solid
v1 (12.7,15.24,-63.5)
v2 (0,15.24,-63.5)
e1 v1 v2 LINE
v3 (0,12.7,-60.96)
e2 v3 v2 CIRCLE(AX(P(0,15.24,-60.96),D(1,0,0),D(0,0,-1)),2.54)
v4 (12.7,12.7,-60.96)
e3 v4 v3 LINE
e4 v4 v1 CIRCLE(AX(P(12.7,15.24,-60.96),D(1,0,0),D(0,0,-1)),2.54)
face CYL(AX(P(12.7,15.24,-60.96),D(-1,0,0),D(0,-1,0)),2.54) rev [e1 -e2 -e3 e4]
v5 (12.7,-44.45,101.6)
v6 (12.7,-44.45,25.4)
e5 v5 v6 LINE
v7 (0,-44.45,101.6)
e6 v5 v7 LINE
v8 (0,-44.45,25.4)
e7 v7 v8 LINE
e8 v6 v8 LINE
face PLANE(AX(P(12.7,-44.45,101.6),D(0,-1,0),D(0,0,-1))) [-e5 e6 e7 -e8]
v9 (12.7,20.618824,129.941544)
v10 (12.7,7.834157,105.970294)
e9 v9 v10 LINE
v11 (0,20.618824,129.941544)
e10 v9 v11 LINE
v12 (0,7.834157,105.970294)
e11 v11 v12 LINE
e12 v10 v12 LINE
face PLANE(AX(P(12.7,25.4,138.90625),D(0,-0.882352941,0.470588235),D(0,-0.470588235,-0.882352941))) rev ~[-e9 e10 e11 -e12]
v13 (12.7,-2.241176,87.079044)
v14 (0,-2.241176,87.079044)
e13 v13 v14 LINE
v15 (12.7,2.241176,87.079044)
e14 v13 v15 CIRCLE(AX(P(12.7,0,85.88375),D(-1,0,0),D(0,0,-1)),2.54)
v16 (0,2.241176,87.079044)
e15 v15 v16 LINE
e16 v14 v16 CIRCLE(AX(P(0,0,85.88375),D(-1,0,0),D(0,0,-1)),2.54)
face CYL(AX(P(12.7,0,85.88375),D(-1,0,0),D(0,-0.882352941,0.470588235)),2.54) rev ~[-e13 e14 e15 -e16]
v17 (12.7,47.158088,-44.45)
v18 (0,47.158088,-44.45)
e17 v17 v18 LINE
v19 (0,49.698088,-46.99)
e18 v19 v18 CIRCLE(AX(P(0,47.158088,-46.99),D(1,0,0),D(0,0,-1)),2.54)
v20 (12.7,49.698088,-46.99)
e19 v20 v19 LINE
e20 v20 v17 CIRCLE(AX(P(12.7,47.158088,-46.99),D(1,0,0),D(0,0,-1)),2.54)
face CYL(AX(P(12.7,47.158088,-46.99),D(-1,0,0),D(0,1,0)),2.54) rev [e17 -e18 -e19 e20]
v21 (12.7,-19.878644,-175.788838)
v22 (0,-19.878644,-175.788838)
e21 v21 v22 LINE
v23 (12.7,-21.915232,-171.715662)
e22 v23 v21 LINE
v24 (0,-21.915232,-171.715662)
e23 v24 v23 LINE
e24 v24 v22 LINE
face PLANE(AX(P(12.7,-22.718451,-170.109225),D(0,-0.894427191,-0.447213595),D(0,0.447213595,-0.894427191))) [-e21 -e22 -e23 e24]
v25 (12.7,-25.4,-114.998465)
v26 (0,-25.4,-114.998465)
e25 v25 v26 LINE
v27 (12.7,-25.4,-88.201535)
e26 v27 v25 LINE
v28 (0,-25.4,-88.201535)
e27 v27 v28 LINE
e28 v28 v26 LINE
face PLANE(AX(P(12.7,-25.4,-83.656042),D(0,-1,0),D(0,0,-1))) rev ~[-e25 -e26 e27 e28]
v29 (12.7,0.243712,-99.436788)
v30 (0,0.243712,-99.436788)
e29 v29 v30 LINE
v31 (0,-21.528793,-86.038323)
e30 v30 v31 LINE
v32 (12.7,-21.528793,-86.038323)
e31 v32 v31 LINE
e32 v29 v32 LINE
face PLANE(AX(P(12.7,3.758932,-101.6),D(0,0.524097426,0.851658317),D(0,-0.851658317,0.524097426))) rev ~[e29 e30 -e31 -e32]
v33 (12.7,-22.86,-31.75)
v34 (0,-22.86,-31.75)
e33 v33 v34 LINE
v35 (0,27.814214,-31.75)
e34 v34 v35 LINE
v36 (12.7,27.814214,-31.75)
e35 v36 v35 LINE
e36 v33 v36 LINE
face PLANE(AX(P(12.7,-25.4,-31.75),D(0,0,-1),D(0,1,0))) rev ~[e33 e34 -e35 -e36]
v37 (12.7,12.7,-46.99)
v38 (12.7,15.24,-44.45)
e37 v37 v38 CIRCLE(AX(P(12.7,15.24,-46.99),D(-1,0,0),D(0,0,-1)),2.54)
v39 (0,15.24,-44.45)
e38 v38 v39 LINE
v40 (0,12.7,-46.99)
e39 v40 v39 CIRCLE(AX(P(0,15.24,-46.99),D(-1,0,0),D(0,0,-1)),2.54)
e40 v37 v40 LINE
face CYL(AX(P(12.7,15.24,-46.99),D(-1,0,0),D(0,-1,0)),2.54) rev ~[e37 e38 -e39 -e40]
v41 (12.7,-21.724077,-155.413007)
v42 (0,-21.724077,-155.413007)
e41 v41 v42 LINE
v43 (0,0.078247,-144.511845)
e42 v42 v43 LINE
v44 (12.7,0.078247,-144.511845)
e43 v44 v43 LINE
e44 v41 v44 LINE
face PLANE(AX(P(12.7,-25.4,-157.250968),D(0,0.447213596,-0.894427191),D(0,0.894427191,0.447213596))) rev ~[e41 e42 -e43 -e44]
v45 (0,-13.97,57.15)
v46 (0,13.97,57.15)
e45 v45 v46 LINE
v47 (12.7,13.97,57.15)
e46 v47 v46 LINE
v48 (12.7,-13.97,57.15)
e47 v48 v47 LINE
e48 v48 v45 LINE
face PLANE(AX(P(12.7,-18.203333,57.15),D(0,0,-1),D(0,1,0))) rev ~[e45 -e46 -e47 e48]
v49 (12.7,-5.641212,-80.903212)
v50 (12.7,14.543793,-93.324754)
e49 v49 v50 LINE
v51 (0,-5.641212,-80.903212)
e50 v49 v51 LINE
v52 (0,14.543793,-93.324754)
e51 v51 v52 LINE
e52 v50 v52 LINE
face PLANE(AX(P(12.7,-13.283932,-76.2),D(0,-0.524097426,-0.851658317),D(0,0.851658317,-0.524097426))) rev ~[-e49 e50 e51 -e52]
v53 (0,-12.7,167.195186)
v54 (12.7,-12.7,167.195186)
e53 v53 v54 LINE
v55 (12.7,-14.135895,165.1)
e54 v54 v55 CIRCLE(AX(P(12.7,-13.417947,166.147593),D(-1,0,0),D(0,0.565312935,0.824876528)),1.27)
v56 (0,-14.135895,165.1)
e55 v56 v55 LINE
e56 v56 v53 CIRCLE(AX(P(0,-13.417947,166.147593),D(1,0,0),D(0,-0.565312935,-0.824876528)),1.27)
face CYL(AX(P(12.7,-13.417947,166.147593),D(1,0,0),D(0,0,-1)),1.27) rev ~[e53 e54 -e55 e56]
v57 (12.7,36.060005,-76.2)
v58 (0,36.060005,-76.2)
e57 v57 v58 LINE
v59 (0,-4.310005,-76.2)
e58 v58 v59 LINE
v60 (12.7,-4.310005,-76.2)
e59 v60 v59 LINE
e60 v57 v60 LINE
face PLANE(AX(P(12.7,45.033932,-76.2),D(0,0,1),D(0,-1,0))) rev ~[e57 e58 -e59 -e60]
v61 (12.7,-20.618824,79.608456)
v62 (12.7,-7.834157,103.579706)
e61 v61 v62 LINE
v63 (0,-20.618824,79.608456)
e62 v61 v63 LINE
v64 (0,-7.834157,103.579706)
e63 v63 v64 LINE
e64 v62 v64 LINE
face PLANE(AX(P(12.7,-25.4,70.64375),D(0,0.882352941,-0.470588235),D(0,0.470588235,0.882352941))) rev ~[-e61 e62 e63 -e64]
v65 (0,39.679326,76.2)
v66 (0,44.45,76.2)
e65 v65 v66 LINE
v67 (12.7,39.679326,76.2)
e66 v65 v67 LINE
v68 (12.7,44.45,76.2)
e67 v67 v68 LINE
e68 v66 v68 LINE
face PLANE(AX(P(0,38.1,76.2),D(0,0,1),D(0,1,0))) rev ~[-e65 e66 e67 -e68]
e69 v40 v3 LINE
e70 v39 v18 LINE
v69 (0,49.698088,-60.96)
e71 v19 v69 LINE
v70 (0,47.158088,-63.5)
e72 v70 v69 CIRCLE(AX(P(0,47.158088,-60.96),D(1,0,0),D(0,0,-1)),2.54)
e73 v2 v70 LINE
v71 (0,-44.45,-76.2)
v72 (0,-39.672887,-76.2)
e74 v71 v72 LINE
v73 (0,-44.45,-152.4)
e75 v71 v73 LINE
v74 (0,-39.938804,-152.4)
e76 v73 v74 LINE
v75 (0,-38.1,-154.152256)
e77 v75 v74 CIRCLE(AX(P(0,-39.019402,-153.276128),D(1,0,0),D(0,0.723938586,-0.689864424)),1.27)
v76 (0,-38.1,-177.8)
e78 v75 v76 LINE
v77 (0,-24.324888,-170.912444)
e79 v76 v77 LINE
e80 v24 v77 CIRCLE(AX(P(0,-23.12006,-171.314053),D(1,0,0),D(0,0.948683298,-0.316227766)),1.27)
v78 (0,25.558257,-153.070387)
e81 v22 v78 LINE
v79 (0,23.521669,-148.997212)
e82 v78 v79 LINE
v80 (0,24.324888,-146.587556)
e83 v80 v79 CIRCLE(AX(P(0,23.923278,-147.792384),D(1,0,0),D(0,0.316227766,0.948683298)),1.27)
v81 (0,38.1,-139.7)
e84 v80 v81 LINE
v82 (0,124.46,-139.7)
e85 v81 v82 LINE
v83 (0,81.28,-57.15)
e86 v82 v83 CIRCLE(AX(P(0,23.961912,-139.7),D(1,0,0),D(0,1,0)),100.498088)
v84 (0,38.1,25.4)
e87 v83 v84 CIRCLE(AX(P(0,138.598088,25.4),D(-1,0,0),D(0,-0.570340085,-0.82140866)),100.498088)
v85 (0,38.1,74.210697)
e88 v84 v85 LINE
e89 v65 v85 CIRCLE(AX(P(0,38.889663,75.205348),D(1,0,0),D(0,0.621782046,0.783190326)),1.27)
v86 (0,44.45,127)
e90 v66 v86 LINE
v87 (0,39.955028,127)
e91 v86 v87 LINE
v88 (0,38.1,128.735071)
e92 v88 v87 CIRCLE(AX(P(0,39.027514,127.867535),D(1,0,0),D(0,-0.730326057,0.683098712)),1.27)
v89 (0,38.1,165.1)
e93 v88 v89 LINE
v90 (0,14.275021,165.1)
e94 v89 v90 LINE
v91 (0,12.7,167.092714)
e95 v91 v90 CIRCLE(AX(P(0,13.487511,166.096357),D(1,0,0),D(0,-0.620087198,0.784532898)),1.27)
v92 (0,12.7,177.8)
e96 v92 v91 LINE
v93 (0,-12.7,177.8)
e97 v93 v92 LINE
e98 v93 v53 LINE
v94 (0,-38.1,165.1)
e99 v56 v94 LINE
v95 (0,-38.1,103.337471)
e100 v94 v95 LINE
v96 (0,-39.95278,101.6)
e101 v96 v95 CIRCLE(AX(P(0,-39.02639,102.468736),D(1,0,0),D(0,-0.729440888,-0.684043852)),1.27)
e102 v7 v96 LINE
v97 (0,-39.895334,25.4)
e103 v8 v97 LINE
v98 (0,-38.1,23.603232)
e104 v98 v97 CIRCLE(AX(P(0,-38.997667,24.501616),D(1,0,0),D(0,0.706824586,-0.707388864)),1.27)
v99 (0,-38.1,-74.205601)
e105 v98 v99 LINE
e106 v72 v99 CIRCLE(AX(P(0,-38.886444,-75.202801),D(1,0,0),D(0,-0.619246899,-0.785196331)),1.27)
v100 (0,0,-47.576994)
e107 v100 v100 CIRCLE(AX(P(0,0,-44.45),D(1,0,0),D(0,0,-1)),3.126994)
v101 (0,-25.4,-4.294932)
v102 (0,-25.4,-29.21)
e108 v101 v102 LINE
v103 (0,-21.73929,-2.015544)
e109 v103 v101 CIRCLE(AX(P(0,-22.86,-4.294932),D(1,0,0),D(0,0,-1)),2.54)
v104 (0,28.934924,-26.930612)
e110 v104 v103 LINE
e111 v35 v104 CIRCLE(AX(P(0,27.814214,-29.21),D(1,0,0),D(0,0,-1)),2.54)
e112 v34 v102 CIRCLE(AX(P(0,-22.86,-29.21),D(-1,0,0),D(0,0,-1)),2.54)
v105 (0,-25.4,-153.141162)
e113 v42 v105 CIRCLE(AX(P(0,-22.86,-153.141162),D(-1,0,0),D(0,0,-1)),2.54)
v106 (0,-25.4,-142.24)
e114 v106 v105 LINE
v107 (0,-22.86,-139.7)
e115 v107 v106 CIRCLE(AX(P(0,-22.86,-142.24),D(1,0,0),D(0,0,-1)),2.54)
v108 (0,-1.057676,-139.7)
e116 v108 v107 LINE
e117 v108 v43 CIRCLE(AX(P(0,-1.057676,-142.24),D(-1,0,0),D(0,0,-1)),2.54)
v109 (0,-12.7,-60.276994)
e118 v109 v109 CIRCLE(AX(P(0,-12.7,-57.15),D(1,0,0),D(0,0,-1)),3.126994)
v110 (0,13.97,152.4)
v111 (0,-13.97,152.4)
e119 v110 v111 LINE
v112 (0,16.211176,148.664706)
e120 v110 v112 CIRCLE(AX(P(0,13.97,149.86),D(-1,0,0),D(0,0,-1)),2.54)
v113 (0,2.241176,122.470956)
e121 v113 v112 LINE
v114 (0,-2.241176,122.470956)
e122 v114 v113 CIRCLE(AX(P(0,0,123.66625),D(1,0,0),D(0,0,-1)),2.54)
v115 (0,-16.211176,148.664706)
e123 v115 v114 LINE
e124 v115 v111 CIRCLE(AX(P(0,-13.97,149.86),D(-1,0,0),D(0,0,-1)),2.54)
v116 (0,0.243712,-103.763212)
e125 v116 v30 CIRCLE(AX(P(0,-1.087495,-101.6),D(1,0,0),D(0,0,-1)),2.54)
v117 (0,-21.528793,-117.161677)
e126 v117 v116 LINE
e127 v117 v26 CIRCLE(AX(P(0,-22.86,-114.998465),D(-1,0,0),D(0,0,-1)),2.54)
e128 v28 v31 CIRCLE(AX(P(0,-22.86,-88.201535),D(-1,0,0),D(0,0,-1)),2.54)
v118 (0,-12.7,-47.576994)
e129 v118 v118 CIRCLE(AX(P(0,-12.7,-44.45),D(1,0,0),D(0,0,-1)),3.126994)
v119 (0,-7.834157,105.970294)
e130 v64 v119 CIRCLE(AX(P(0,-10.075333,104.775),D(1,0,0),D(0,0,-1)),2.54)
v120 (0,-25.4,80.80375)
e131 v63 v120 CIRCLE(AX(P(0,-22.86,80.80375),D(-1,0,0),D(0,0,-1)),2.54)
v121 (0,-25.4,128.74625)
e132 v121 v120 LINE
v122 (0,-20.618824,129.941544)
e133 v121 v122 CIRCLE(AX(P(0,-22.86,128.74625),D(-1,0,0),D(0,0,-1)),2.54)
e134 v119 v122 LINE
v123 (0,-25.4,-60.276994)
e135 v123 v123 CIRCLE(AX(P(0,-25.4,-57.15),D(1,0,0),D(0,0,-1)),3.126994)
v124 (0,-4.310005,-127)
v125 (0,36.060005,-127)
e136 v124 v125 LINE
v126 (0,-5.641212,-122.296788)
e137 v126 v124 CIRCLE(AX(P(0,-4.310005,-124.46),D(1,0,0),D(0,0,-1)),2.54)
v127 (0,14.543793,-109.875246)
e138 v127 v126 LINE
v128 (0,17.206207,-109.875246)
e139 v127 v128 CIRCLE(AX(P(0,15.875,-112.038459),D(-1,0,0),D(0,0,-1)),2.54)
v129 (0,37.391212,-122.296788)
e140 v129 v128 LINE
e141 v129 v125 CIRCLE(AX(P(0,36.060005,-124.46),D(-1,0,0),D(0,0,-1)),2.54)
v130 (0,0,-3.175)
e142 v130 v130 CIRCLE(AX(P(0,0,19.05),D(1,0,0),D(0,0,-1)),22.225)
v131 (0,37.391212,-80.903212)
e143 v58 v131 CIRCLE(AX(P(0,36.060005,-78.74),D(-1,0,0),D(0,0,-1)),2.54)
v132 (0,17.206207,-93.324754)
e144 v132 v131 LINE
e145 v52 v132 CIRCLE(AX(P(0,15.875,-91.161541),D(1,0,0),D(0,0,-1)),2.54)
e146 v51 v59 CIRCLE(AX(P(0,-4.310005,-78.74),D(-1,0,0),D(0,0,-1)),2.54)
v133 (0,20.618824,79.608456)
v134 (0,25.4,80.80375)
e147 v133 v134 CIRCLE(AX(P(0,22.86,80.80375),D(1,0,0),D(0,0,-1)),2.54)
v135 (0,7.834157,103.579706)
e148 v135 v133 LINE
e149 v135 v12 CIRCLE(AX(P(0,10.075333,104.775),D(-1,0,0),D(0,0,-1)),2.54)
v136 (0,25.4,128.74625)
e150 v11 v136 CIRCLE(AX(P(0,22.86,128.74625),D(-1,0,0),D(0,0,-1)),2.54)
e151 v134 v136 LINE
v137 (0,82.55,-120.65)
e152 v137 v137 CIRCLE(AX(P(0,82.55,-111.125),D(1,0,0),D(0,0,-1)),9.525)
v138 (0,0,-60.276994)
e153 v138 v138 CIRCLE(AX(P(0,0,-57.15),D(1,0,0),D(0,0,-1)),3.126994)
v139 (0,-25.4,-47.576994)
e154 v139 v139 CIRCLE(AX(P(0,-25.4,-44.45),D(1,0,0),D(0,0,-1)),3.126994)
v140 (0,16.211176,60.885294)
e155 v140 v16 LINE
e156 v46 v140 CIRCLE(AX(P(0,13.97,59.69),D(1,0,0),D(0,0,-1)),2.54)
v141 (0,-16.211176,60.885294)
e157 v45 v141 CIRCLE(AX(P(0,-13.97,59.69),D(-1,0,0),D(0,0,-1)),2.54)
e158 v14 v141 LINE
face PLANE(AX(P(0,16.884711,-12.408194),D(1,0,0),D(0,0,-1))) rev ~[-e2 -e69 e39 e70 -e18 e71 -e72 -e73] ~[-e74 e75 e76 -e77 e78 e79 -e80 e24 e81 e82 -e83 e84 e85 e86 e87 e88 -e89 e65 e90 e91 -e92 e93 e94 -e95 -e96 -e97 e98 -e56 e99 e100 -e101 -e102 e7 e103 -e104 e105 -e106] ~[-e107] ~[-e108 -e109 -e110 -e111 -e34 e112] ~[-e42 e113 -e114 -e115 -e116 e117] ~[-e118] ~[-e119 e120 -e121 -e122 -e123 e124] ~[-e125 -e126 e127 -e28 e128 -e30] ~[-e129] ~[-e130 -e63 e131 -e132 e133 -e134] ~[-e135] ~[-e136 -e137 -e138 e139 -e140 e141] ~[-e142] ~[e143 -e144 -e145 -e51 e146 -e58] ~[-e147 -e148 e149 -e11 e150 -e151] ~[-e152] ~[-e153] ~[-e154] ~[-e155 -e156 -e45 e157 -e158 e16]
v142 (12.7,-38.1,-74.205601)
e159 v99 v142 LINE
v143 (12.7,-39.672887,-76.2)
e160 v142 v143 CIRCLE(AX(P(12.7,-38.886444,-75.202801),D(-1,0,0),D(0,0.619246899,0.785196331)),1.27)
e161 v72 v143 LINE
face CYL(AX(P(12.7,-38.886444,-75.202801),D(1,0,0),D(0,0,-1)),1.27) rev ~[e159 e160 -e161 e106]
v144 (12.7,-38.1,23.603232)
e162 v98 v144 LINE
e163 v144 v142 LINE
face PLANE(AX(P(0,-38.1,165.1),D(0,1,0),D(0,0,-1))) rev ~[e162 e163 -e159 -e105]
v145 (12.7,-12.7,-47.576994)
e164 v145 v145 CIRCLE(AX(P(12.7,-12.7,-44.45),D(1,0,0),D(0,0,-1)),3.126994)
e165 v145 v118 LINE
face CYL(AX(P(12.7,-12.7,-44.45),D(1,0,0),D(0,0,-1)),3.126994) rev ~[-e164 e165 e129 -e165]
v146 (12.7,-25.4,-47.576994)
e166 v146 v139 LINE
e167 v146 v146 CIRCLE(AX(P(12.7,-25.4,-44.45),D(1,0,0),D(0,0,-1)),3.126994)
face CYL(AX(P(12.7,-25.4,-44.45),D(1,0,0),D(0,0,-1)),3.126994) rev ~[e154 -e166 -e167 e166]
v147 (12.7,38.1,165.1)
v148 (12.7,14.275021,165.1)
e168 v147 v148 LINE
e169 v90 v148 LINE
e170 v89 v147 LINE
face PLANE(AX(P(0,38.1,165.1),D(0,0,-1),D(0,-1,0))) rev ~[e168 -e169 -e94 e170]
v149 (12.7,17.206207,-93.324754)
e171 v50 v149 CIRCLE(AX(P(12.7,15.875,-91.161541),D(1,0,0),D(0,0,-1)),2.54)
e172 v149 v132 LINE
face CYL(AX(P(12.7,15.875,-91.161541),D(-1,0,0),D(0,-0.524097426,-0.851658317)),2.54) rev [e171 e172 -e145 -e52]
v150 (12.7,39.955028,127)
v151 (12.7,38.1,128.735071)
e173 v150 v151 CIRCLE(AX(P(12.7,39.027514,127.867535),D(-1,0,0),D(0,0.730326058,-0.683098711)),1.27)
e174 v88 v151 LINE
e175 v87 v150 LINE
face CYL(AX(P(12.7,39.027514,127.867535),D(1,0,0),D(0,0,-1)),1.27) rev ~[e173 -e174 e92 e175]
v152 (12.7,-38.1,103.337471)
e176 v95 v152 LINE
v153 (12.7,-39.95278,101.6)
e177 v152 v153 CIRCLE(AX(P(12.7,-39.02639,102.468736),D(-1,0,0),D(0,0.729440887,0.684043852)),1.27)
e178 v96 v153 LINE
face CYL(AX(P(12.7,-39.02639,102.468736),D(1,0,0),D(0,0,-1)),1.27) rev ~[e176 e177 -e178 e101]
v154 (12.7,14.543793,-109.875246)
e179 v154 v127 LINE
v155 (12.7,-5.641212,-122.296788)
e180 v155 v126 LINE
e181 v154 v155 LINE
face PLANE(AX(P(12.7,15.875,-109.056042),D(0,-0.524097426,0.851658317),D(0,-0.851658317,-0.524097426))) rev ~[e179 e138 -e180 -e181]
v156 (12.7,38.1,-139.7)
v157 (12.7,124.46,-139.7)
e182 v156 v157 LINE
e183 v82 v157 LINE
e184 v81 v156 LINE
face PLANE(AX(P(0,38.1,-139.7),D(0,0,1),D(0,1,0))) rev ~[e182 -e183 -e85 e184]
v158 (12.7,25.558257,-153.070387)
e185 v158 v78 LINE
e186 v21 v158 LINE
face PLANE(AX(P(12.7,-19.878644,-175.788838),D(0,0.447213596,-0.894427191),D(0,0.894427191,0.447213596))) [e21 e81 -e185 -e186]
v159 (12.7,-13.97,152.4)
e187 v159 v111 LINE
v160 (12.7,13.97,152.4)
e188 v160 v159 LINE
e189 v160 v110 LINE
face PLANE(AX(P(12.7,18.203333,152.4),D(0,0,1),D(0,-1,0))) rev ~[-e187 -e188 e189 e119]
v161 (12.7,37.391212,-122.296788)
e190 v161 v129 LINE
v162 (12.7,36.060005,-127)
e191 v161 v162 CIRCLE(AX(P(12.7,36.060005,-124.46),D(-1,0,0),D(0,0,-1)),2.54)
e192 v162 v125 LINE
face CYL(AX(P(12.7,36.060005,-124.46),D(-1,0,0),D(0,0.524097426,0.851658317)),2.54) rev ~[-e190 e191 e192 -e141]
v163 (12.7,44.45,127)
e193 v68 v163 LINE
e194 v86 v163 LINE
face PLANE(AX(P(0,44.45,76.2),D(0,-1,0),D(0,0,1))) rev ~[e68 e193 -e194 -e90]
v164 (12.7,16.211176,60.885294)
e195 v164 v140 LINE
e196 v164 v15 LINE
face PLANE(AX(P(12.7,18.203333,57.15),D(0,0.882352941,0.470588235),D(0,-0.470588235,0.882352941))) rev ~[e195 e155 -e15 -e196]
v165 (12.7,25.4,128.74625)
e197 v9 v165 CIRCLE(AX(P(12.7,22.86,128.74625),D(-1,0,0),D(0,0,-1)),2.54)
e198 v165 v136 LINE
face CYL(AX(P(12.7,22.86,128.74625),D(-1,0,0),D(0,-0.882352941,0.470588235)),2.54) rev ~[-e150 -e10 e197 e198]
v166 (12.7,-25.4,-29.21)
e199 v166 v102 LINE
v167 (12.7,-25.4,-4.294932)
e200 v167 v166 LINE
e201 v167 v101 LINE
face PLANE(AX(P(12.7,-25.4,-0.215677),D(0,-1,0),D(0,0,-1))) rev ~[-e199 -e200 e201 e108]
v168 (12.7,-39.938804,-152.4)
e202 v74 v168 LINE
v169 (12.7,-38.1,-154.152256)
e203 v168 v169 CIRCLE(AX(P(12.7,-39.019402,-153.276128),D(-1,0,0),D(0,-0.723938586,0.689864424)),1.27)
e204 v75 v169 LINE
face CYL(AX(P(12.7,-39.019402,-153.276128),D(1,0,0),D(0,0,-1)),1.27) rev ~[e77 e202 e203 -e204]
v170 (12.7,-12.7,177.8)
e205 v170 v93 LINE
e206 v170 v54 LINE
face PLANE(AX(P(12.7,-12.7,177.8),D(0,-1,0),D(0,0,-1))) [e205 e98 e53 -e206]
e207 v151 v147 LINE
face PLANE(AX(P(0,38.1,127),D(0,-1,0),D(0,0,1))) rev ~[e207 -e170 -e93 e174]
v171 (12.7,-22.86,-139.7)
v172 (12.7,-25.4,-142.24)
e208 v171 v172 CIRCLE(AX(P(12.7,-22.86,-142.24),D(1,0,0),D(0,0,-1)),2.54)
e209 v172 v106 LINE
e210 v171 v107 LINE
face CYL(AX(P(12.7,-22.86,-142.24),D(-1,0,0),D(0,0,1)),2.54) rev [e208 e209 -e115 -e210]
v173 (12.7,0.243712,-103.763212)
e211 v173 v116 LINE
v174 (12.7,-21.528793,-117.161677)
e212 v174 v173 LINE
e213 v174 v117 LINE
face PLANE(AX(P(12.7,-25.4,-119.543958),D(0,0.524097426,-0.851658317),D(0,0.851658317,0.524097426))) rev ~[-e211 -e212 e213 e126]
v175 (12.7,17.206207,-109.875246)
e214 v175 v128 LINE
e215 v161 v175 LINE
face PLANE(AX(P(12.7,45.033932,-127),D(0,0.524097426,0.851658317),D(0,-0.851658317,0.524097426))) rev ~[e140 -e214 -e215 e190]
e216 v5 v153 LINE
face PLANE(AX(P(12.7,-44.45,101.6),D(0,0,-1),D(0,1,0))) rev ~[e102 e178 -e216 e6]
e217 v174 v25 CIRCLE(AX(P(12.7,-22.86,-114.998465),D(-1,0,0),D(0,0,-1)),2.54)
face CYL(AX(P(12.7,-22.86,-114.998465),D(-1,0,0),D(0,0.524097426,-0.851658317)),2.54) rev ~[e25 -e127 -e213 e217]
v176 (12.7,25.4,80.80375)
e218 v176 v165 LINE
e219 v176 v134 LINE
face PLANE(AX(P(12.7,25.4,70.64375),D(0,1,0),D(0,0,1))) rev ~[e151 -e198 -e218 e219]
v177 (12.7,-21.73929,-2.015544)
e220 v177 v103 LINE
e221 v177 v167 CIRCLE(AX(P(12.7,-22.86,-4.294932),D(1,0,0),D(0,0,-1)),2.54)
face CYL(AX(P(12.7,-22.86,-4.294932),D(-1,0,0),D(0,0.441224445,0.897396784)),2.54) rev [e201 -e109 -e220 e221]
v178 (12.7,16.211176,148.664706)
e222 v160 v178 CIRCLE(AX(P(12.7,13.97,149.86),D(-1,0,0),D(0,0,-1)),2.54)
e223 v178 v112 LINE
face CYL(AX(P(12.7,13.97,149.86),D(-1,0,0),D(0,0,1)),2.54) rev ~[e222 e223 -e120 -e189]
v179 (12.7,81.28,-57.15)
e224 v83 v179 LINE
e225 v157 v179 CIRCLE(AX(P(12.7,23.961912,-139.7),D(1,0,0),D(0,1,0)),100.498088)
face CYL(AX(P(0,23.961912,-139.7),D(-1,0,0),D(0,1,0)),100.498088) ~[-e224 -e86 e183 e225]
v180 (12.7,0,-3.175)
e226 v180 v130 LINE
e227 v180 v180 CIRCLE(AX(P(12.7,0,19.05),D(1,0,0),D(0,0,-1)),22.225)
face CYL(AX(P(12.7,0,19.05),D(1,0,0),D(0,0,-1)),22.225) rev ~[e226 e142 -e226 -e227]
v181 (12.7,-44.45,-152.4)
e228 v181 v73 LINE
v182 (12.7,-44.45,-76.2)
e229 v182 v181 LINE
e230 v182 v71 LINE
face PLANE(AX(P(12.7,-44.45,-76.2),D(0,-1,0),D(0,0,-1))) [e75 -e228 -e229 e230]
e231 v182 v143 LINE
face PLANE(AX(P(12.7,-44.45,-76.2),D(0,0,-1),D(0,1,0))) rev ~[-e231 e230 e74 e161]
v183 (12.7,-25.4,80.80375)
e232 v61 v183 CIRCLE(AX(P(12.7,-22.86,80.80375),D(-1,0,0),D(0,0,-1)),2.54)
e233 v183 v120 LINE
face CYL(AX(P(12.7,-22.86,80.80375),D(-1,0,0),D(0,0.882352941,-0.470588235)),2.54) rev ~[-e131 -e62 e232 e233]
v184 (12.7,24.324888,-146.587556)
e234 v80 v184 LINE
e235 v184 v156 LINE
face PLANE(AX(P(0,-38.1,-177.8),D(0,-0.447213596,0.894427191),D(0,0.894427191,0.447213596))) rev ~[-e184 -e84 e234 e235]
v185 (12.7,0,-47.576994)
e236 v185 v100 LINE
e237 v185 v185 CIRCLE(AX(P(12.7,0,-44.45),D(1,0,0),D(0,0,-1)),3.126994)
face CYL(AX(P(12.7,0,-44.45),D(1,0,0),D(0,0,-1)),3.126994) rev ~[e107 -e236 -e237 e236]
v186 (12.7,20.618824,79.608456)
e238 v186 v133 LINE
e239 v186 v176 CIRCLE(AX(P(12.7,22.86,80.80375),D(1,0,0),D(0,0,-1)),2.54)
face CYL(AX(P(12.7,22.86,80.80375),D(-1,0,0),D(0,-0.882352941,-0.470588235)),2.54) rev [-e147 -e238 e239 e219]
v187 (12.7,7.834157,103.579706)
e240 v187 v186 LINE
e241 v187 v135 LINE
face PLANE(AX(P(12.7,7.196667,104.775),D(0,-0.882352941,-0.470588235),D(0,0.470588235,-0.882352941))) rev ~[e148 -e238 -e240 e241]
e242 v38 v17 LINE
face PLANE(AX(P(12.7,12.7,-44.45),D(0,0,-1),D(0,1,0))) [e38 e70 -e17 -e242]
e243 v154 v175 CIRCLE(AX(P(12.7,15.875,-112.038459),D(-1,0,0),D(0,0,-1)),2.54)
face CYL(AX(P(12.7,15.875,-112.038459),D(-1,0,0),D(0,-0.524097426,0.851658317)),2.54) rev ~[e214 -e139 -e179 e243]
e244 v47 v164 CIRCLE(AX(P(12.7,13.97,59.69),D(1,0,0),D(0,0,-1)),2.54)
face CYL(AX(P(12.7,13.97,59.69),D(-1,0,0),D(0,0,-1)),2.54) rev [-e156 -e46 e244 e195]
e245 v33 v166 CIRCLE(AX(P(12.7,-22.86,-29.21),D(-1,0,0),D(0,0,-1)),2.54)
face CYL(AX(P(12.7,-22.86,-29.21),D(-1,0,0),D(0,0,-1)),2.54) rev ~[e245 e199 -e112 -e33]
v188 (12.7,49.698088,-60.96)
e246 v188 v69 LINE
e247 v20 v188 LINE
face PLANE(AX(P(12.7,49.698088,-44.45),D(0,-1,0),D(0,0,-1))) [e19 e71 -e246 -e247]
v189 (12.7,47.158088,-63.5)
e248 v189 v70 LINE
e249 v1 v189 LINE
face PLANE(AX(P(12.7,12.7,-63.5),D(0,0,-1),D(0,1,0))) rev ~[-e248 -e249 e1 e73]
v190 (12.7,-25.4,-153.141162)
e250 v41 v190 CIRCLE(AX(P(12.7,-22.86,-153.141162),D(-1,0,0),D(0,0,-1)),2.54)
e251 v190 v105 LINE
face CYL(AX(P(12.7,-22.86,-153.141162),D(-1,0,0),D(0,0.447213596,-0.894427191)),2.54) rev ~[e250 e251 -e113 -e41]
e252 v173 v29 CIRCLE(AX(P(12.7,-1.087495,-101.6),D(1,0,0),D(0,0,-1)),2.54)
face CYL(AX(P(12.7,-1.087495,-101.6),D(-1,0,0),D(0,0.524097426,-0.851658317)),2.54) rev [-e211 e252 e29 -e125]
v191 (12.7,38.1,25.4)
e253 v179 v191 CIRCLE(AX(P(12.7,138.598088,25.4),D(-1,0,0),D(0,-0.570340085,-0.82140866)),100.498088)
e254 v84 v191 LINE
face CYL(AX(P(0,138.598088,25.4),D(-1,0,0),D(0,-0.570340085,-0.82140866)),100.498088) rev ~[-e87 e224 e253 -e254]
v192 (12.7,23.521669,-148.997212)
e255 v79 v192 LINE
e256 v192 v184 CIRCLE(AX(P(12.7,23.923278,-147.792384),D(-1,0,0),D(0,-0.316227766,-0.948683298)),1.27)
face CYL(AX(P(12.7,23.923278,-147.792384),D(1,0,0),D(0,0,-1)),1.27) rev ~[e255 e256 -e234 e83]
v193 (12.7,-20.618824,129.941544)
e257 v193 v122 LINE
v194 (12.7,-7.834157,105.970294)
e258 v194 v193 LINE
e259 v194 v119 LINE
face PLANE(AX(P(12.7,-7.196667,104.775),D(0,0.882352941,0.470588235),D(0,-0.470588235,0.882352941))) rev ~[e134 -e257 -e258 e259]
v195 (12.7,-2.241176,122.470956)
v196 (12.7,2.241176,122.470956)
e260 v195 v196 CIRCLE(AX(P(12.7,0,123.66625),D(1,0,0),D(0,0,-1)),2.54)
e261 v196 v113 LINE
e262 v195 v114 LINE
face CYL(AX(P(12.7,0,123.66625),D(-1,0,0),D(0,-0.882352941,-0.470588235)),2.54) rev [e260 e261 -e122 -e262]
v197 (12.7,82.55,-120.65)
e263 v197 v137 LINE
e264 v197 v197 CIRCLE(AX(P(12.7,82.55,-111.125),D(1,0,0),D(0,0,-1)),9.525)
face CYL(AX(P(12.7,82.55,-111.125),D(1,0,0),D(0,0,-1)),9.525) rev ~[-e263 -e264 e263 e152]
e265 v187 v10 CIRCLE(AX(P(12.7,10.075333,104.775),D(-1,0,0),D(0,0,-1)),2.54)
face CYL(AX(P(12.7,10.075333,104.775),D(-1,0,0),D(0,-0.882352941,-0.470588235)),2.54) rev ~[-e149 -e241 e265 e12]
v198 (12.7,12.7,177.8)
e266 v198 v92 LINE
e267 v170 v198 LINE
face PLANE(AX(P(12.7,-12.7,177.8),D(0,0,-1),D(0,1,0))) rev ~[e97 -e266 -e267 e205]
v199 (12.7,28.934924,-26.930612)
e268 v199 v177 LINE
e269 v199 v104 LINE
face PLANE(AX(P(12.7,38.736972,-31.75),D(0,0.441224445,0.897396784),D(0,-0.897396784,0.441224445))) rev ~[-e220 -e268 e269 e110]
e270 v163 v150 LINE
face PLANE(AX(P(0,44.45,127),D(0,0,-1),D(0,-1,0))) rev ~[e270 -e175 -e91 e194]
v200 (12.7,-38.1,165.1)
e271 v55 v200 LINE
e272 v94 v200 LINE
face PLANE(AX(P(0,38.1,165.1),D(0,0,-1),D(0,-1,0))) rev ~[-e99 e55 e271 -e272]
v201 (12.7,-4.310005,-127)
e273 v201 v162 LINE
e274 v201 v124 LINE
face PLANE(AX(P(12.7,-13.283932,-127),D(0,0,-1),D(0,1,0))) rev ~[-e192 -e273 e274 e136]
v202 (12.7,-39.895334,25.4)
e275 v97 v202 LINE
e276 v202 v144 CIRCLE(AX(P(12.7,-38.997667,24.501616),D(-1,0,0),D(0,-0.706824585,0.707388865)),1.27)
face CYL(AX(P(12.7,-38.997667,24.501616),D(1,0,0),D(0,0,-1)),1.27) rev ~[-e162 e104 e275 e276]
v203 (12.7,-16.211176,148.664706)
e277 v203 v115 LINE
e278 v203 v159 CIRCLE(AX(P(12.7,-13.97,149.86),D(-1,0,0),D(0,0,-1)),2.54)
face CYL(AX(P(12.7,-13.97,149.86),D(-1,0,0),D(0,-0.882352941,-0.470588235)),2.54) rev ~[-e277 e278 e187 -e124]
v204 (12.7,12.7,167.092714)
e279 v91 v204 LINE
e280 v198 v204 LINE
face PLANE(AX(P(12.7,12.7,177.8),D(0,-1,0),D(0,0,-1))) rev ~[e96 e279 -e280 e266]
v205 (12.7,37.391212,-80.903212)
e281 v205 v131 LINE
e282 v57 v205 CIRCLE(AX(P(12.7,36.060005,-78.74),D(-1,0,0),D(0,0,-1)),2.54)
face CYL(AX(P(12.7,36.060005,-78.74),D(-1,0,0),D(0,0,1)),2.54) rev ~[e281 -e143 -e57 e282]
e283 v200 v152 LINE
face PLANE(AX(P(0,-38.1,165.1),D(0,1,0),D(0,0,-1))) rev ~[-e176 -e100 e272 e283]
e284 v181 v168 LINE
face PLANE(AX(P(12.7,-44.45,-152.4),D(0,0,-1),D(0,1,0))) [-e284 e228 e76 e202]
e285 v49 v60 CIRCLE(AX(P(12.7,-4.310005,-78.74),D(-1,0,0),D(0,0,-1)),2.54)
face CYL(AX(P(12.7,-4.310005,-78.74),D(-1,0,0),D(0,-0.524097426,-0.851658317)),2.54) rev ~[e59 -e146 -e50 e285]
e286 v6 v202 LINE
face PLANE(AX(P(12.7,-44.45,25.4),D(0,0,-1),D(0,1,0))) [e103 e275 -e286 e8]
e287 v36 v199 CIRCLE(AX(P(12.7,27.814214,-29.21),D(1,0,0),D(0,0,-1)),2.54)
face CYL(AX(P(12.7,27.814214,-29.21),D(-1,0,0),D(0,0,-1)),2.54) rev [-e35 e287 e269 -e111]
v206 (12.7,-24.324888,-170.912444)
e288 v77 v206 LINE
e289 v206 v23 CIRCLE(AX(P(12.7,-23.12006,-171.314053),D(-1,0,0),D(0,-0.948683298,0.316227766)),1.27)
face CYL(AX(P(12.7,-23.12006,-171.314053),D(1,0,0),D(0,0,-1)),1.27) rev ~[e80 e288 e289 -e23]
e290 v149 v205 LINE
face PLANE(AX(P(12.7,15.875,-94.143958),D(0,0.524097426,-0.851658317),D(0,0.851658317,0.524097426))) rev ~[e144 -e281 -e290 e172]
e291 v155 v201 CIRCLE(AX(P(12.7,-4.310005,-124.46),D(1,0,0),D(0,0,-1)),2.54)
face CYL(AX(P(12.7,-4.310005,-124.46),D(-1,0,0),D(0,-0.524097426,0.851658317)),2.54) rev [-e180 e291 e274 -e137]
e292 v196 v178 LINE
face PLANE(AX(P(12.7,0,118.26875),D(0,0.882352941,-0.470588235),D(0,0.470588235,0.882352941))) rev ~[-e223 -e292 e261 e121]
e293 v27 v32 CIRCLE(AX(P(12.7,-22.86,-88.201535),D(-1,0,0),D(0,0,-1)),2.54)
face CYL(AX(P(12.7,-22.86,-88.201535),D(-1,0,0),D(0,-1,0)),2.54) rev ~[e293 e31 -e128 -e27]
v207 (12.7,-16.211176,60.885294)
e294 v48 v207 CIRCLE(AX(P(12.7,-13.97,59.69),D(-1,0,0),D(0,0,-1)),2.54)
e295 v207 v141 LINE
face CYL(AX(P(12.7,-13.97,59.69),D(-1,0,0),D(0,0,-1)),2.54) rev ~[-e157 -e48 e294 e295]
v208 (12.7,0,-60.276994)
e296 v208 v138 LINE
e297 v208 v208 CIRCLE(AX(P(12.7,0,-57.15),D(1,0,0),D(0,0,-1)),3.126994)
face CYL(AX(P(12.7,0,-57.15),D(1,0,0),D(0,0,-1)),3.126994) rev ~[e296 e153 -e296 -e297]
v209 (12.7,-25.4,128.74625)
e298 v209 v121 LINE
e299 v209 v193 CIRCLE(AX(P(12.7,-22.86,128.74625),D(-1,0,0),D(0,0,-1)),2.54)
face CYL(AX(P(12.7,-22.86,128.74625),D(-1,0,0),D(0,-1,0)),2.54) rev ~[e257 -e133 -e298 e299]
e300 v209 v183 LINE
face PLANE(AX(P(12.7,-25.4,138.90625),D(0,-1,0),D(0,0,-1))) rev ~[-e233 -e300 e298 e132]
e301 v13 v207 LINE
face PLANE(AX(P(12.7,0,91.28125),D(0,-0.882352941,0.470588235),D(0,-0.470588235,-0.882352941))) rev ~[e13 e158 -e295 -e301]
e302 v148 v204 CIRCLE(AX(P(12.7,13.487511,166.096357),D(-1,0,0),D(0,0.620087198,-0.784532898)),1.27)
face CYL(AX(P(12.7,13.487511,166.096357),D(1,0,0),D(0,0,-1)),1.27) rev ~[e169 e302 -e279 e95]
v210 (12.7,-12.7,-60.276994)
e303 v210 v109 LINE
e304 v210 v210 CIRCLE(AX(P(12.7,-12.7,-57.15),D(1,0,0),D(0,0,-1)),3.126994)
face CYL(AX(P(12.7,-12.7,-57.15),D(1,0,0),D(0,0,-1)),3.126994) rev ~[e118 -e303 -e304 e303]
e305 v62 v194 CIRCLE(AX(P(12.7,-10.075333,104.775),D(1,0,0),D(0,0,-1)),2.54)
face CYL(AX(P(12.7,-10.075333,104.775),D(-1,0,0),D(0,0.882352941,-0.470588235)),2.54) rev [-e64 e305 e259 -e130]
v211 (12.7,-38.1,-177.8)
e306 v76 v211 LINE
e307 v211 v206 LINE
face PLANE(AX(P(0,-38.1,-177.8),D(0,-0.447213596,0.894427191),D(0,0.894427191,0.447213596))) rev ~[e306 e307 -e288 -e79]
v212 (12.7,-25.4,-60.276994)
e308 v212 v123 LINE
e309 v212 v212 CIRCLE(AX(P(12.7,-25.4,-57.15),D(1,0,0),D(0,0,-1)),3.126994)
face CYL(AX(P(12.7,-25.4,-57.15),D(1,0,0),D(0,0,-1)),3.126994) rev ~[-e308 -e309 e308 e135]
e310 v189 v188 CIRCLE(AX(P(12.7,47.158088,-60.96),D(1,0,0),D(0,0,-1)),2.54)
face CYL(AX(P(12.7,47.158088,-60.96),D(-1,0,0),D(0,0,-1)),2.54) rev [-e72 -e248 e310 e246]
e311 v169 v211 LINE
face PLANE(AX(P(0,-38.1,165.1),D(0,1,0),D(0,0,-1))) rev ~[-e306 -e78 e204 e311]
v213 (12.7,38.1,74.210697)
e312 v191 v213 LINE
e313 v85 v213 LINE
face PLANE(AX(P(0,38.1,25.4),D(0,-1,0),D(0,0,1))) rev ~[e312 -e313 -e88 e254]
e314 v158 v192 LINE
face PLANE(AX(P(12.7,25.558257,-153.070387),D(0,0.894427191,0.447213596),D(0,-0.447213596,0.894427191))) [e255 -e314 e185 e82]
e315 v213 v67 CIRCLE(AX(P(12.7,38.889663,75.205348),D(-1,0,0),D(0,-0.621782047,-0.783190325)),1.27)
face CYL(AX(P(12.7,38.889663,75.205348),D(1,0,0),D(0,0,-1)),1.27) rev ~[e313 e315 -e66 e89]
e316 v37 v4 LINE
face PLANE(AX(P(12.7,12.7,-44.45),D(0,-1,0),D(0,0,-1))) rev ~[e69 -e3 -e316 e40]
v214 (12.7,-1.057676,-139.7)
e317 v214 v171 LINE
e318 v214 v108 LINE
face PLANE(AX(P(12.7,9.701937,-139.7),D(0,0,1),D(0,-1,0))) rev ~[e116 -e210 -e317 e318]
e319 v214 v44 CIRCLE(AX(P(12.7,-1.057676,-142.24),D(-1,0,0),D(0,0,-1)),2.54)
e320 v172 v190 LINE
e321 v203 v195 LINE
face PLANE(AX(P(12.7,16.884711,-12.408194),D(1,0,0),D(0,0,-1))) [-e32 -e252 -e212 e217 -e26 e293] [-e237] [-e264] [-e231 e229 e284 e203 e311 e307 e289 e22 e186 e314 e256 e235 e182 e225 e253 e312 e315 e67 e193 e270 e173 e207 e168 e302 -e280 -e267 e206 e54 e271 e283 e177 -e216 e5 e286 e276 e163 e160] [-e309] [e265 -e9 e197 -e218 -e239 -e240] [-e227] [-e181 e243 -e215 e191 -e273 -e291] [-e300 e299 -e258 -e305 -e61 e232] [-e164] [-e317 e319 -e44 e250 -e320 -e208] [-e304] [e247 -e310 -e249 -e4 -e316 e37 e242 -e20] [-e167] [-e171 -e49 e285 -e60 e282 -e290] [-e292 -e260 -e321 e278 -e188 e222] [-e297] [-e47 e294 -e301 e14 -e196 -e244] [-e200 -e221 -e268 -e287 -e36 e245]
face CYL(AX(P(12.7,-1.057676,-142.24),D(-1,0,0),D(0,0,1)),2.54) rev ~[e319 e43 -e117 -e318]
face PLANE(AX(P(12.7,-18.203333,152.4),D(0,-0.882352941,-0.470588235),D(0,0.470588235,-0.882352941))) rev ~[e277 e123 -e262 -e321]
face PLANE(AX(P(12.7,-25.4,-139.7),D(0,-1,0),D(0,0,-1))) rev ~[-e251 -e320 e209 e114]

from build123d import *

# Parameters (mm, degrees)
BOSS_EXTRUDE1_DEPTH = 12.7
SKETCH2_R           = 9.525
CUT_EXTRUDE1_DEPTH  = 218.403821494
SKETCH3_W           = 76.2
SKETCH3_H           = 6.35
SKETCH3_W_2         = 12.7
SKETCH3_H_2         = 25.4
BOSS_EXTRUDE2_DEPTH = 12.7
SKETCH9_R           = 22.225
CUT_EXTRUDE4_DEPTH  = 218.403821494
CUT_EXTRUDE6_DEPTH  = 218.403821494
BOSS_EXTRUDE3_DEPTH = 12.7
SKETCH15_R          = 1.27
CUT_EXTRUDE8_DEPTH  = 218.403821494
SKETCH13_R          = 3.126994
SKETCH13_W          = 19.05
SKETCH13_H          = 36.998088235
CUT_EXTRUDE9_DEPTH  = 218.403821494
FILLET1_R           = 2.54
FILLET2_R           = 2.54


with BuildPart() as part:
    # Sketch1 → Boss-Extrude1 (new body)
    with BuildSketch(Plane(origin=(0, 0, 0), x_dir=(0, 0, -1), z_dir=(1, 0, 0))):
        with BuildLine():
            ThreePointArc((57.15, 81.28), (21.180615335, 49.546911859), (-25.4, 38.1))
            Line((-25.4, 38.1), (-76.2, 38.1))
            Line((-76.2, 38.1), (-76.2, 44.45))
            Line((-76.2, 44.45), (-127, 44.45))
            Line((-127, 44.45), (-127, 38.1))
            Line((-127, 38.1), (-165.1, 38.1))
            Line((-165.1, 38.1), (-165.1, -38.1))
            Line((-165.1, -38.1), (177.8, -38.1))
            Line((177.8, -38.1), (139.7, 38.1))
            Line((139.7, 38.1), (139.7, 124.46))
            ThreePointArc((139.7, 124.46), (93.119384665, 113.013088141), (57.15, 81.28))
        make_face()
    extrude(amount=BOSS_EXTRUDE1_DEPTH)

    # Sketch2 → Cut-Extrude1 (cut, through all)
    with BuildSketch(Plane(origin=(12.7, 0, 0), x_dir=(0, 0, -1), z_dir=(1, 0, 0))):
        with Locations((111.125, 82.55)):
            Circle(SKETCH2_R)
    extrude(amount=-CUT_EXTRUDE1_DEPTH, mode=Mode.SUBTRACT)

    # Sketch3 → Boss-Extrude2 (add)
    with BuildSketch(Plane(origin=(12.7, 0, 0), x_dir=(0, 0, -1), z_dir=(1, 0, 0))):
        with Locations((114.3, -41.275)):
            Rectangle(SKETCH3_W, SKETCH3_H)
        with Locations((-63.5, -41.275)):
            Rectangle(SKETCH3_W, SKETCH3_H)
        with Locations((-171.45, 0)):
            Rectangle(SKETCH3_W_2, SKETCH3_H_2)
    extrude(amount=-BOSS_EXTRUDE2_DEPTH)

    # Sketch9 → Cut-Extrude4 (cut, through all)
    with BuildSketch(Plane(origin=(12.7, 0, 0), x_dir=(0, 0, -1), z_dir=(1, 0, 0))):
        with Locations((-19.05, 0)):
            Circle(SKETCH9_R)
    extrude(amount=-CUT_EXTRUDE4_DEPTH, mode=Mode.SUBTRACT)

    # Sketch12 → Cut-Extrude6 (cut, through all)
    with BuildSketch(Plane(origin=(12.7, 0, 0), x_dir=(0, 0, -1), z_dir=(1, 0, 0))):
        Polygon((139.7, 9.701936686), (139.7, -25.4), (157.250968343, -25.4), align=None)
        Polygon((109.05604179, 15.875), (127, -13.283932092), (127, 45.033932092), align=None)
        Polygon((119.54395821, -25.4), (101.6, 3.758932092), (83.65604179, -25.4), align=None)
        Polygon((76.2, -13.283932092), (94.14395821, 15.875), (76.2, 45.033932092), align=None)
        Polygon((-57.15, -18.203333333), (-57.15, 18.203333333), (-91.28125, 0), align=None)
        Polygon((-70.64375, -25.4), (-104.775, -7.196666667), (-138.90625, -25.4), align=None)
        Polygon((-152.4, -18.203333333), (-118.26875, 0), (-152.4, 18.203333333), align=None)
        Polygon((-104.775, 7.196666667), (-70.64375, 25.4), (-138.90625, 25.4), align=None)
    extrude(amount=-CUT_EXTRUDE6_DEPTH, mode=Mode.SUBTRACT)

    # Sketch14 → Boss-Extrude3 (add)
    with BuildSketch(Plane(origin=(12.7, 0, 0), x_dir=(0, 0, -1), z_dir=(1, 0, 0))):
        Polygon((147.390774674, 22.718450651), (170.109225326, -22.718450651), (175.788837989, -19.87864432), (153.070387337, 25.558256983), align=None)
    extrude(amount=-BOSS_EXTRUDE3_DEPTH)

    # Sketch15 → Cut-Extrude8 (cut, through all)
    with BuildSketch(Plane(origin=(12.7, 0, 0), x_dir=(0, 0, -1), z_dir=(1, 0, 0))):
        with Locations((-166.14759319, -13.417947427)):
            Circle(SKETCH15_R)
        with Locations((-127.867535363, 39.027514093)):
            Circle(SKETCH15_R)
        with Locations((-102.468735692, -39.026389927)):
            Circle(SKETCH15_R)
        with Locations((75.20280066, -38.886443562)):
            Circle(SKETCH15_R)
        with Locations((153.276127819, -39.019402004)):
            Circle(SKETCH15_R)
        with Locations((-24.501616142, -38.997667224)):
            Circle(SKETCH15_R)
        with Locations((-166.09635678, 13.487510741)):
            Circle(SKETCH15_R)
        with Locations((-75.205348286, 38.8896632)):
            Circle(SKETCH15_R)
        with Locations((171.314053114, -23.120059914)):
            Circle(SKETCH15_R)
        with Locations((147.792383937, 23.92327844)):
            Circle(SKETCH15_R)
    extrude(amount=-CUT_EXTRUDE8_DEPTH, mode=Mode.SUBTRACT)

    # Sketch13 → Cut-Extrude9 (cut, through all)
    with BuildSketch(Plane(origin=(12.7, 0, 0), x_dir=(0, 0, -1), z_dir=(1, 0, 0))):
        with Locations((44.45, -25.4)):
            Circle(SKETCH13_R)
        with Locations((57.15, -25.4)):
            Circle(SKETCH13_R)
        with Locations((44.45, -12.7)):
            Circle(SKETCH13_R)
        with Locations((57.15, -12.7)):
            Circle(SKETCH13_R)
        with Locations((44.45, 0)):
            Circle(SKETCH13_R)
        with Locations((57.15, 0)):
            Circle(SKETCH13_R)
        with Locations((53.975, 31.199044118)):
            Rectangle(SKETCH13_W, SKETCH13_H)
        Polygon((31.75, -25.4), (31.75, 38.736971741), (0.2156773, -25.4), align=None)
    extrude(amount=-CUT_EXTRUDE9_DEPTH, mode=Mode.SUBTRACT)

    # Fillet1
    fillet1_edges = [part.edges().sort_by_distance(p)[0] for p in [
        (6.35, -25.4, -139.7),
        (6.35, 9.701936686, -139.7),
        (6.35, -25.4, -157.250968343),
        (6.35, 0, 118.26875),
        (6.35, -18.203333333, 152.4),
        (6.35, 18.203333333, 152.4),
        (6.35, -25.4, 70.64375),
        (6.35, -25.4, 138.90625),
        (6.35, -7.196666667, 104.775),
        (6.35, 7.196666667, 104.775),
        (6.35, 25.4, 138.90625),
        (6.35, 25.4, 70.64375),
        (6.35, 3.758932092, -101.6),
        (6.35, -25.4, -119.54395821),
        (6.35, -25.4, -83.65604179),
        (6.35, 45.033932092, -127),
        (6.35, -13.283932092, -127),
        (6.35, 15.875, -109.05604179),
        (6.35, 15.875, -94.14395821),
        (6.35, -13.283932092, -76.2),
        (6.35, 45.033932092, -76.2),
        (6.35, 18.203333333, 57.15),
        (6.35, -18.203333333, 57.15),
        (6.35, 0, 91.28125),
    ]]
    fillet(fillet1_edges, radius=FILLET1_R)

    # Fillet2
    fillet2_edges = [part.edges().sort_by_distance(p)[0] for p in [
        (6.35, -25.4, -31.75),
        (6.35, -25.4, -0.2156773),
        (6.35, 38.736971741, -31.75),
        (6.35, 49.698088235, -63.5),
        (6.35, 12.7, -63.5),
        (6.35, 12.7, -44.45),
        (6.35, 49.698088235, -44.45),
    ]]
    fillet(fillet2_edges, radius=FILLET2_R)


solid = part.part
